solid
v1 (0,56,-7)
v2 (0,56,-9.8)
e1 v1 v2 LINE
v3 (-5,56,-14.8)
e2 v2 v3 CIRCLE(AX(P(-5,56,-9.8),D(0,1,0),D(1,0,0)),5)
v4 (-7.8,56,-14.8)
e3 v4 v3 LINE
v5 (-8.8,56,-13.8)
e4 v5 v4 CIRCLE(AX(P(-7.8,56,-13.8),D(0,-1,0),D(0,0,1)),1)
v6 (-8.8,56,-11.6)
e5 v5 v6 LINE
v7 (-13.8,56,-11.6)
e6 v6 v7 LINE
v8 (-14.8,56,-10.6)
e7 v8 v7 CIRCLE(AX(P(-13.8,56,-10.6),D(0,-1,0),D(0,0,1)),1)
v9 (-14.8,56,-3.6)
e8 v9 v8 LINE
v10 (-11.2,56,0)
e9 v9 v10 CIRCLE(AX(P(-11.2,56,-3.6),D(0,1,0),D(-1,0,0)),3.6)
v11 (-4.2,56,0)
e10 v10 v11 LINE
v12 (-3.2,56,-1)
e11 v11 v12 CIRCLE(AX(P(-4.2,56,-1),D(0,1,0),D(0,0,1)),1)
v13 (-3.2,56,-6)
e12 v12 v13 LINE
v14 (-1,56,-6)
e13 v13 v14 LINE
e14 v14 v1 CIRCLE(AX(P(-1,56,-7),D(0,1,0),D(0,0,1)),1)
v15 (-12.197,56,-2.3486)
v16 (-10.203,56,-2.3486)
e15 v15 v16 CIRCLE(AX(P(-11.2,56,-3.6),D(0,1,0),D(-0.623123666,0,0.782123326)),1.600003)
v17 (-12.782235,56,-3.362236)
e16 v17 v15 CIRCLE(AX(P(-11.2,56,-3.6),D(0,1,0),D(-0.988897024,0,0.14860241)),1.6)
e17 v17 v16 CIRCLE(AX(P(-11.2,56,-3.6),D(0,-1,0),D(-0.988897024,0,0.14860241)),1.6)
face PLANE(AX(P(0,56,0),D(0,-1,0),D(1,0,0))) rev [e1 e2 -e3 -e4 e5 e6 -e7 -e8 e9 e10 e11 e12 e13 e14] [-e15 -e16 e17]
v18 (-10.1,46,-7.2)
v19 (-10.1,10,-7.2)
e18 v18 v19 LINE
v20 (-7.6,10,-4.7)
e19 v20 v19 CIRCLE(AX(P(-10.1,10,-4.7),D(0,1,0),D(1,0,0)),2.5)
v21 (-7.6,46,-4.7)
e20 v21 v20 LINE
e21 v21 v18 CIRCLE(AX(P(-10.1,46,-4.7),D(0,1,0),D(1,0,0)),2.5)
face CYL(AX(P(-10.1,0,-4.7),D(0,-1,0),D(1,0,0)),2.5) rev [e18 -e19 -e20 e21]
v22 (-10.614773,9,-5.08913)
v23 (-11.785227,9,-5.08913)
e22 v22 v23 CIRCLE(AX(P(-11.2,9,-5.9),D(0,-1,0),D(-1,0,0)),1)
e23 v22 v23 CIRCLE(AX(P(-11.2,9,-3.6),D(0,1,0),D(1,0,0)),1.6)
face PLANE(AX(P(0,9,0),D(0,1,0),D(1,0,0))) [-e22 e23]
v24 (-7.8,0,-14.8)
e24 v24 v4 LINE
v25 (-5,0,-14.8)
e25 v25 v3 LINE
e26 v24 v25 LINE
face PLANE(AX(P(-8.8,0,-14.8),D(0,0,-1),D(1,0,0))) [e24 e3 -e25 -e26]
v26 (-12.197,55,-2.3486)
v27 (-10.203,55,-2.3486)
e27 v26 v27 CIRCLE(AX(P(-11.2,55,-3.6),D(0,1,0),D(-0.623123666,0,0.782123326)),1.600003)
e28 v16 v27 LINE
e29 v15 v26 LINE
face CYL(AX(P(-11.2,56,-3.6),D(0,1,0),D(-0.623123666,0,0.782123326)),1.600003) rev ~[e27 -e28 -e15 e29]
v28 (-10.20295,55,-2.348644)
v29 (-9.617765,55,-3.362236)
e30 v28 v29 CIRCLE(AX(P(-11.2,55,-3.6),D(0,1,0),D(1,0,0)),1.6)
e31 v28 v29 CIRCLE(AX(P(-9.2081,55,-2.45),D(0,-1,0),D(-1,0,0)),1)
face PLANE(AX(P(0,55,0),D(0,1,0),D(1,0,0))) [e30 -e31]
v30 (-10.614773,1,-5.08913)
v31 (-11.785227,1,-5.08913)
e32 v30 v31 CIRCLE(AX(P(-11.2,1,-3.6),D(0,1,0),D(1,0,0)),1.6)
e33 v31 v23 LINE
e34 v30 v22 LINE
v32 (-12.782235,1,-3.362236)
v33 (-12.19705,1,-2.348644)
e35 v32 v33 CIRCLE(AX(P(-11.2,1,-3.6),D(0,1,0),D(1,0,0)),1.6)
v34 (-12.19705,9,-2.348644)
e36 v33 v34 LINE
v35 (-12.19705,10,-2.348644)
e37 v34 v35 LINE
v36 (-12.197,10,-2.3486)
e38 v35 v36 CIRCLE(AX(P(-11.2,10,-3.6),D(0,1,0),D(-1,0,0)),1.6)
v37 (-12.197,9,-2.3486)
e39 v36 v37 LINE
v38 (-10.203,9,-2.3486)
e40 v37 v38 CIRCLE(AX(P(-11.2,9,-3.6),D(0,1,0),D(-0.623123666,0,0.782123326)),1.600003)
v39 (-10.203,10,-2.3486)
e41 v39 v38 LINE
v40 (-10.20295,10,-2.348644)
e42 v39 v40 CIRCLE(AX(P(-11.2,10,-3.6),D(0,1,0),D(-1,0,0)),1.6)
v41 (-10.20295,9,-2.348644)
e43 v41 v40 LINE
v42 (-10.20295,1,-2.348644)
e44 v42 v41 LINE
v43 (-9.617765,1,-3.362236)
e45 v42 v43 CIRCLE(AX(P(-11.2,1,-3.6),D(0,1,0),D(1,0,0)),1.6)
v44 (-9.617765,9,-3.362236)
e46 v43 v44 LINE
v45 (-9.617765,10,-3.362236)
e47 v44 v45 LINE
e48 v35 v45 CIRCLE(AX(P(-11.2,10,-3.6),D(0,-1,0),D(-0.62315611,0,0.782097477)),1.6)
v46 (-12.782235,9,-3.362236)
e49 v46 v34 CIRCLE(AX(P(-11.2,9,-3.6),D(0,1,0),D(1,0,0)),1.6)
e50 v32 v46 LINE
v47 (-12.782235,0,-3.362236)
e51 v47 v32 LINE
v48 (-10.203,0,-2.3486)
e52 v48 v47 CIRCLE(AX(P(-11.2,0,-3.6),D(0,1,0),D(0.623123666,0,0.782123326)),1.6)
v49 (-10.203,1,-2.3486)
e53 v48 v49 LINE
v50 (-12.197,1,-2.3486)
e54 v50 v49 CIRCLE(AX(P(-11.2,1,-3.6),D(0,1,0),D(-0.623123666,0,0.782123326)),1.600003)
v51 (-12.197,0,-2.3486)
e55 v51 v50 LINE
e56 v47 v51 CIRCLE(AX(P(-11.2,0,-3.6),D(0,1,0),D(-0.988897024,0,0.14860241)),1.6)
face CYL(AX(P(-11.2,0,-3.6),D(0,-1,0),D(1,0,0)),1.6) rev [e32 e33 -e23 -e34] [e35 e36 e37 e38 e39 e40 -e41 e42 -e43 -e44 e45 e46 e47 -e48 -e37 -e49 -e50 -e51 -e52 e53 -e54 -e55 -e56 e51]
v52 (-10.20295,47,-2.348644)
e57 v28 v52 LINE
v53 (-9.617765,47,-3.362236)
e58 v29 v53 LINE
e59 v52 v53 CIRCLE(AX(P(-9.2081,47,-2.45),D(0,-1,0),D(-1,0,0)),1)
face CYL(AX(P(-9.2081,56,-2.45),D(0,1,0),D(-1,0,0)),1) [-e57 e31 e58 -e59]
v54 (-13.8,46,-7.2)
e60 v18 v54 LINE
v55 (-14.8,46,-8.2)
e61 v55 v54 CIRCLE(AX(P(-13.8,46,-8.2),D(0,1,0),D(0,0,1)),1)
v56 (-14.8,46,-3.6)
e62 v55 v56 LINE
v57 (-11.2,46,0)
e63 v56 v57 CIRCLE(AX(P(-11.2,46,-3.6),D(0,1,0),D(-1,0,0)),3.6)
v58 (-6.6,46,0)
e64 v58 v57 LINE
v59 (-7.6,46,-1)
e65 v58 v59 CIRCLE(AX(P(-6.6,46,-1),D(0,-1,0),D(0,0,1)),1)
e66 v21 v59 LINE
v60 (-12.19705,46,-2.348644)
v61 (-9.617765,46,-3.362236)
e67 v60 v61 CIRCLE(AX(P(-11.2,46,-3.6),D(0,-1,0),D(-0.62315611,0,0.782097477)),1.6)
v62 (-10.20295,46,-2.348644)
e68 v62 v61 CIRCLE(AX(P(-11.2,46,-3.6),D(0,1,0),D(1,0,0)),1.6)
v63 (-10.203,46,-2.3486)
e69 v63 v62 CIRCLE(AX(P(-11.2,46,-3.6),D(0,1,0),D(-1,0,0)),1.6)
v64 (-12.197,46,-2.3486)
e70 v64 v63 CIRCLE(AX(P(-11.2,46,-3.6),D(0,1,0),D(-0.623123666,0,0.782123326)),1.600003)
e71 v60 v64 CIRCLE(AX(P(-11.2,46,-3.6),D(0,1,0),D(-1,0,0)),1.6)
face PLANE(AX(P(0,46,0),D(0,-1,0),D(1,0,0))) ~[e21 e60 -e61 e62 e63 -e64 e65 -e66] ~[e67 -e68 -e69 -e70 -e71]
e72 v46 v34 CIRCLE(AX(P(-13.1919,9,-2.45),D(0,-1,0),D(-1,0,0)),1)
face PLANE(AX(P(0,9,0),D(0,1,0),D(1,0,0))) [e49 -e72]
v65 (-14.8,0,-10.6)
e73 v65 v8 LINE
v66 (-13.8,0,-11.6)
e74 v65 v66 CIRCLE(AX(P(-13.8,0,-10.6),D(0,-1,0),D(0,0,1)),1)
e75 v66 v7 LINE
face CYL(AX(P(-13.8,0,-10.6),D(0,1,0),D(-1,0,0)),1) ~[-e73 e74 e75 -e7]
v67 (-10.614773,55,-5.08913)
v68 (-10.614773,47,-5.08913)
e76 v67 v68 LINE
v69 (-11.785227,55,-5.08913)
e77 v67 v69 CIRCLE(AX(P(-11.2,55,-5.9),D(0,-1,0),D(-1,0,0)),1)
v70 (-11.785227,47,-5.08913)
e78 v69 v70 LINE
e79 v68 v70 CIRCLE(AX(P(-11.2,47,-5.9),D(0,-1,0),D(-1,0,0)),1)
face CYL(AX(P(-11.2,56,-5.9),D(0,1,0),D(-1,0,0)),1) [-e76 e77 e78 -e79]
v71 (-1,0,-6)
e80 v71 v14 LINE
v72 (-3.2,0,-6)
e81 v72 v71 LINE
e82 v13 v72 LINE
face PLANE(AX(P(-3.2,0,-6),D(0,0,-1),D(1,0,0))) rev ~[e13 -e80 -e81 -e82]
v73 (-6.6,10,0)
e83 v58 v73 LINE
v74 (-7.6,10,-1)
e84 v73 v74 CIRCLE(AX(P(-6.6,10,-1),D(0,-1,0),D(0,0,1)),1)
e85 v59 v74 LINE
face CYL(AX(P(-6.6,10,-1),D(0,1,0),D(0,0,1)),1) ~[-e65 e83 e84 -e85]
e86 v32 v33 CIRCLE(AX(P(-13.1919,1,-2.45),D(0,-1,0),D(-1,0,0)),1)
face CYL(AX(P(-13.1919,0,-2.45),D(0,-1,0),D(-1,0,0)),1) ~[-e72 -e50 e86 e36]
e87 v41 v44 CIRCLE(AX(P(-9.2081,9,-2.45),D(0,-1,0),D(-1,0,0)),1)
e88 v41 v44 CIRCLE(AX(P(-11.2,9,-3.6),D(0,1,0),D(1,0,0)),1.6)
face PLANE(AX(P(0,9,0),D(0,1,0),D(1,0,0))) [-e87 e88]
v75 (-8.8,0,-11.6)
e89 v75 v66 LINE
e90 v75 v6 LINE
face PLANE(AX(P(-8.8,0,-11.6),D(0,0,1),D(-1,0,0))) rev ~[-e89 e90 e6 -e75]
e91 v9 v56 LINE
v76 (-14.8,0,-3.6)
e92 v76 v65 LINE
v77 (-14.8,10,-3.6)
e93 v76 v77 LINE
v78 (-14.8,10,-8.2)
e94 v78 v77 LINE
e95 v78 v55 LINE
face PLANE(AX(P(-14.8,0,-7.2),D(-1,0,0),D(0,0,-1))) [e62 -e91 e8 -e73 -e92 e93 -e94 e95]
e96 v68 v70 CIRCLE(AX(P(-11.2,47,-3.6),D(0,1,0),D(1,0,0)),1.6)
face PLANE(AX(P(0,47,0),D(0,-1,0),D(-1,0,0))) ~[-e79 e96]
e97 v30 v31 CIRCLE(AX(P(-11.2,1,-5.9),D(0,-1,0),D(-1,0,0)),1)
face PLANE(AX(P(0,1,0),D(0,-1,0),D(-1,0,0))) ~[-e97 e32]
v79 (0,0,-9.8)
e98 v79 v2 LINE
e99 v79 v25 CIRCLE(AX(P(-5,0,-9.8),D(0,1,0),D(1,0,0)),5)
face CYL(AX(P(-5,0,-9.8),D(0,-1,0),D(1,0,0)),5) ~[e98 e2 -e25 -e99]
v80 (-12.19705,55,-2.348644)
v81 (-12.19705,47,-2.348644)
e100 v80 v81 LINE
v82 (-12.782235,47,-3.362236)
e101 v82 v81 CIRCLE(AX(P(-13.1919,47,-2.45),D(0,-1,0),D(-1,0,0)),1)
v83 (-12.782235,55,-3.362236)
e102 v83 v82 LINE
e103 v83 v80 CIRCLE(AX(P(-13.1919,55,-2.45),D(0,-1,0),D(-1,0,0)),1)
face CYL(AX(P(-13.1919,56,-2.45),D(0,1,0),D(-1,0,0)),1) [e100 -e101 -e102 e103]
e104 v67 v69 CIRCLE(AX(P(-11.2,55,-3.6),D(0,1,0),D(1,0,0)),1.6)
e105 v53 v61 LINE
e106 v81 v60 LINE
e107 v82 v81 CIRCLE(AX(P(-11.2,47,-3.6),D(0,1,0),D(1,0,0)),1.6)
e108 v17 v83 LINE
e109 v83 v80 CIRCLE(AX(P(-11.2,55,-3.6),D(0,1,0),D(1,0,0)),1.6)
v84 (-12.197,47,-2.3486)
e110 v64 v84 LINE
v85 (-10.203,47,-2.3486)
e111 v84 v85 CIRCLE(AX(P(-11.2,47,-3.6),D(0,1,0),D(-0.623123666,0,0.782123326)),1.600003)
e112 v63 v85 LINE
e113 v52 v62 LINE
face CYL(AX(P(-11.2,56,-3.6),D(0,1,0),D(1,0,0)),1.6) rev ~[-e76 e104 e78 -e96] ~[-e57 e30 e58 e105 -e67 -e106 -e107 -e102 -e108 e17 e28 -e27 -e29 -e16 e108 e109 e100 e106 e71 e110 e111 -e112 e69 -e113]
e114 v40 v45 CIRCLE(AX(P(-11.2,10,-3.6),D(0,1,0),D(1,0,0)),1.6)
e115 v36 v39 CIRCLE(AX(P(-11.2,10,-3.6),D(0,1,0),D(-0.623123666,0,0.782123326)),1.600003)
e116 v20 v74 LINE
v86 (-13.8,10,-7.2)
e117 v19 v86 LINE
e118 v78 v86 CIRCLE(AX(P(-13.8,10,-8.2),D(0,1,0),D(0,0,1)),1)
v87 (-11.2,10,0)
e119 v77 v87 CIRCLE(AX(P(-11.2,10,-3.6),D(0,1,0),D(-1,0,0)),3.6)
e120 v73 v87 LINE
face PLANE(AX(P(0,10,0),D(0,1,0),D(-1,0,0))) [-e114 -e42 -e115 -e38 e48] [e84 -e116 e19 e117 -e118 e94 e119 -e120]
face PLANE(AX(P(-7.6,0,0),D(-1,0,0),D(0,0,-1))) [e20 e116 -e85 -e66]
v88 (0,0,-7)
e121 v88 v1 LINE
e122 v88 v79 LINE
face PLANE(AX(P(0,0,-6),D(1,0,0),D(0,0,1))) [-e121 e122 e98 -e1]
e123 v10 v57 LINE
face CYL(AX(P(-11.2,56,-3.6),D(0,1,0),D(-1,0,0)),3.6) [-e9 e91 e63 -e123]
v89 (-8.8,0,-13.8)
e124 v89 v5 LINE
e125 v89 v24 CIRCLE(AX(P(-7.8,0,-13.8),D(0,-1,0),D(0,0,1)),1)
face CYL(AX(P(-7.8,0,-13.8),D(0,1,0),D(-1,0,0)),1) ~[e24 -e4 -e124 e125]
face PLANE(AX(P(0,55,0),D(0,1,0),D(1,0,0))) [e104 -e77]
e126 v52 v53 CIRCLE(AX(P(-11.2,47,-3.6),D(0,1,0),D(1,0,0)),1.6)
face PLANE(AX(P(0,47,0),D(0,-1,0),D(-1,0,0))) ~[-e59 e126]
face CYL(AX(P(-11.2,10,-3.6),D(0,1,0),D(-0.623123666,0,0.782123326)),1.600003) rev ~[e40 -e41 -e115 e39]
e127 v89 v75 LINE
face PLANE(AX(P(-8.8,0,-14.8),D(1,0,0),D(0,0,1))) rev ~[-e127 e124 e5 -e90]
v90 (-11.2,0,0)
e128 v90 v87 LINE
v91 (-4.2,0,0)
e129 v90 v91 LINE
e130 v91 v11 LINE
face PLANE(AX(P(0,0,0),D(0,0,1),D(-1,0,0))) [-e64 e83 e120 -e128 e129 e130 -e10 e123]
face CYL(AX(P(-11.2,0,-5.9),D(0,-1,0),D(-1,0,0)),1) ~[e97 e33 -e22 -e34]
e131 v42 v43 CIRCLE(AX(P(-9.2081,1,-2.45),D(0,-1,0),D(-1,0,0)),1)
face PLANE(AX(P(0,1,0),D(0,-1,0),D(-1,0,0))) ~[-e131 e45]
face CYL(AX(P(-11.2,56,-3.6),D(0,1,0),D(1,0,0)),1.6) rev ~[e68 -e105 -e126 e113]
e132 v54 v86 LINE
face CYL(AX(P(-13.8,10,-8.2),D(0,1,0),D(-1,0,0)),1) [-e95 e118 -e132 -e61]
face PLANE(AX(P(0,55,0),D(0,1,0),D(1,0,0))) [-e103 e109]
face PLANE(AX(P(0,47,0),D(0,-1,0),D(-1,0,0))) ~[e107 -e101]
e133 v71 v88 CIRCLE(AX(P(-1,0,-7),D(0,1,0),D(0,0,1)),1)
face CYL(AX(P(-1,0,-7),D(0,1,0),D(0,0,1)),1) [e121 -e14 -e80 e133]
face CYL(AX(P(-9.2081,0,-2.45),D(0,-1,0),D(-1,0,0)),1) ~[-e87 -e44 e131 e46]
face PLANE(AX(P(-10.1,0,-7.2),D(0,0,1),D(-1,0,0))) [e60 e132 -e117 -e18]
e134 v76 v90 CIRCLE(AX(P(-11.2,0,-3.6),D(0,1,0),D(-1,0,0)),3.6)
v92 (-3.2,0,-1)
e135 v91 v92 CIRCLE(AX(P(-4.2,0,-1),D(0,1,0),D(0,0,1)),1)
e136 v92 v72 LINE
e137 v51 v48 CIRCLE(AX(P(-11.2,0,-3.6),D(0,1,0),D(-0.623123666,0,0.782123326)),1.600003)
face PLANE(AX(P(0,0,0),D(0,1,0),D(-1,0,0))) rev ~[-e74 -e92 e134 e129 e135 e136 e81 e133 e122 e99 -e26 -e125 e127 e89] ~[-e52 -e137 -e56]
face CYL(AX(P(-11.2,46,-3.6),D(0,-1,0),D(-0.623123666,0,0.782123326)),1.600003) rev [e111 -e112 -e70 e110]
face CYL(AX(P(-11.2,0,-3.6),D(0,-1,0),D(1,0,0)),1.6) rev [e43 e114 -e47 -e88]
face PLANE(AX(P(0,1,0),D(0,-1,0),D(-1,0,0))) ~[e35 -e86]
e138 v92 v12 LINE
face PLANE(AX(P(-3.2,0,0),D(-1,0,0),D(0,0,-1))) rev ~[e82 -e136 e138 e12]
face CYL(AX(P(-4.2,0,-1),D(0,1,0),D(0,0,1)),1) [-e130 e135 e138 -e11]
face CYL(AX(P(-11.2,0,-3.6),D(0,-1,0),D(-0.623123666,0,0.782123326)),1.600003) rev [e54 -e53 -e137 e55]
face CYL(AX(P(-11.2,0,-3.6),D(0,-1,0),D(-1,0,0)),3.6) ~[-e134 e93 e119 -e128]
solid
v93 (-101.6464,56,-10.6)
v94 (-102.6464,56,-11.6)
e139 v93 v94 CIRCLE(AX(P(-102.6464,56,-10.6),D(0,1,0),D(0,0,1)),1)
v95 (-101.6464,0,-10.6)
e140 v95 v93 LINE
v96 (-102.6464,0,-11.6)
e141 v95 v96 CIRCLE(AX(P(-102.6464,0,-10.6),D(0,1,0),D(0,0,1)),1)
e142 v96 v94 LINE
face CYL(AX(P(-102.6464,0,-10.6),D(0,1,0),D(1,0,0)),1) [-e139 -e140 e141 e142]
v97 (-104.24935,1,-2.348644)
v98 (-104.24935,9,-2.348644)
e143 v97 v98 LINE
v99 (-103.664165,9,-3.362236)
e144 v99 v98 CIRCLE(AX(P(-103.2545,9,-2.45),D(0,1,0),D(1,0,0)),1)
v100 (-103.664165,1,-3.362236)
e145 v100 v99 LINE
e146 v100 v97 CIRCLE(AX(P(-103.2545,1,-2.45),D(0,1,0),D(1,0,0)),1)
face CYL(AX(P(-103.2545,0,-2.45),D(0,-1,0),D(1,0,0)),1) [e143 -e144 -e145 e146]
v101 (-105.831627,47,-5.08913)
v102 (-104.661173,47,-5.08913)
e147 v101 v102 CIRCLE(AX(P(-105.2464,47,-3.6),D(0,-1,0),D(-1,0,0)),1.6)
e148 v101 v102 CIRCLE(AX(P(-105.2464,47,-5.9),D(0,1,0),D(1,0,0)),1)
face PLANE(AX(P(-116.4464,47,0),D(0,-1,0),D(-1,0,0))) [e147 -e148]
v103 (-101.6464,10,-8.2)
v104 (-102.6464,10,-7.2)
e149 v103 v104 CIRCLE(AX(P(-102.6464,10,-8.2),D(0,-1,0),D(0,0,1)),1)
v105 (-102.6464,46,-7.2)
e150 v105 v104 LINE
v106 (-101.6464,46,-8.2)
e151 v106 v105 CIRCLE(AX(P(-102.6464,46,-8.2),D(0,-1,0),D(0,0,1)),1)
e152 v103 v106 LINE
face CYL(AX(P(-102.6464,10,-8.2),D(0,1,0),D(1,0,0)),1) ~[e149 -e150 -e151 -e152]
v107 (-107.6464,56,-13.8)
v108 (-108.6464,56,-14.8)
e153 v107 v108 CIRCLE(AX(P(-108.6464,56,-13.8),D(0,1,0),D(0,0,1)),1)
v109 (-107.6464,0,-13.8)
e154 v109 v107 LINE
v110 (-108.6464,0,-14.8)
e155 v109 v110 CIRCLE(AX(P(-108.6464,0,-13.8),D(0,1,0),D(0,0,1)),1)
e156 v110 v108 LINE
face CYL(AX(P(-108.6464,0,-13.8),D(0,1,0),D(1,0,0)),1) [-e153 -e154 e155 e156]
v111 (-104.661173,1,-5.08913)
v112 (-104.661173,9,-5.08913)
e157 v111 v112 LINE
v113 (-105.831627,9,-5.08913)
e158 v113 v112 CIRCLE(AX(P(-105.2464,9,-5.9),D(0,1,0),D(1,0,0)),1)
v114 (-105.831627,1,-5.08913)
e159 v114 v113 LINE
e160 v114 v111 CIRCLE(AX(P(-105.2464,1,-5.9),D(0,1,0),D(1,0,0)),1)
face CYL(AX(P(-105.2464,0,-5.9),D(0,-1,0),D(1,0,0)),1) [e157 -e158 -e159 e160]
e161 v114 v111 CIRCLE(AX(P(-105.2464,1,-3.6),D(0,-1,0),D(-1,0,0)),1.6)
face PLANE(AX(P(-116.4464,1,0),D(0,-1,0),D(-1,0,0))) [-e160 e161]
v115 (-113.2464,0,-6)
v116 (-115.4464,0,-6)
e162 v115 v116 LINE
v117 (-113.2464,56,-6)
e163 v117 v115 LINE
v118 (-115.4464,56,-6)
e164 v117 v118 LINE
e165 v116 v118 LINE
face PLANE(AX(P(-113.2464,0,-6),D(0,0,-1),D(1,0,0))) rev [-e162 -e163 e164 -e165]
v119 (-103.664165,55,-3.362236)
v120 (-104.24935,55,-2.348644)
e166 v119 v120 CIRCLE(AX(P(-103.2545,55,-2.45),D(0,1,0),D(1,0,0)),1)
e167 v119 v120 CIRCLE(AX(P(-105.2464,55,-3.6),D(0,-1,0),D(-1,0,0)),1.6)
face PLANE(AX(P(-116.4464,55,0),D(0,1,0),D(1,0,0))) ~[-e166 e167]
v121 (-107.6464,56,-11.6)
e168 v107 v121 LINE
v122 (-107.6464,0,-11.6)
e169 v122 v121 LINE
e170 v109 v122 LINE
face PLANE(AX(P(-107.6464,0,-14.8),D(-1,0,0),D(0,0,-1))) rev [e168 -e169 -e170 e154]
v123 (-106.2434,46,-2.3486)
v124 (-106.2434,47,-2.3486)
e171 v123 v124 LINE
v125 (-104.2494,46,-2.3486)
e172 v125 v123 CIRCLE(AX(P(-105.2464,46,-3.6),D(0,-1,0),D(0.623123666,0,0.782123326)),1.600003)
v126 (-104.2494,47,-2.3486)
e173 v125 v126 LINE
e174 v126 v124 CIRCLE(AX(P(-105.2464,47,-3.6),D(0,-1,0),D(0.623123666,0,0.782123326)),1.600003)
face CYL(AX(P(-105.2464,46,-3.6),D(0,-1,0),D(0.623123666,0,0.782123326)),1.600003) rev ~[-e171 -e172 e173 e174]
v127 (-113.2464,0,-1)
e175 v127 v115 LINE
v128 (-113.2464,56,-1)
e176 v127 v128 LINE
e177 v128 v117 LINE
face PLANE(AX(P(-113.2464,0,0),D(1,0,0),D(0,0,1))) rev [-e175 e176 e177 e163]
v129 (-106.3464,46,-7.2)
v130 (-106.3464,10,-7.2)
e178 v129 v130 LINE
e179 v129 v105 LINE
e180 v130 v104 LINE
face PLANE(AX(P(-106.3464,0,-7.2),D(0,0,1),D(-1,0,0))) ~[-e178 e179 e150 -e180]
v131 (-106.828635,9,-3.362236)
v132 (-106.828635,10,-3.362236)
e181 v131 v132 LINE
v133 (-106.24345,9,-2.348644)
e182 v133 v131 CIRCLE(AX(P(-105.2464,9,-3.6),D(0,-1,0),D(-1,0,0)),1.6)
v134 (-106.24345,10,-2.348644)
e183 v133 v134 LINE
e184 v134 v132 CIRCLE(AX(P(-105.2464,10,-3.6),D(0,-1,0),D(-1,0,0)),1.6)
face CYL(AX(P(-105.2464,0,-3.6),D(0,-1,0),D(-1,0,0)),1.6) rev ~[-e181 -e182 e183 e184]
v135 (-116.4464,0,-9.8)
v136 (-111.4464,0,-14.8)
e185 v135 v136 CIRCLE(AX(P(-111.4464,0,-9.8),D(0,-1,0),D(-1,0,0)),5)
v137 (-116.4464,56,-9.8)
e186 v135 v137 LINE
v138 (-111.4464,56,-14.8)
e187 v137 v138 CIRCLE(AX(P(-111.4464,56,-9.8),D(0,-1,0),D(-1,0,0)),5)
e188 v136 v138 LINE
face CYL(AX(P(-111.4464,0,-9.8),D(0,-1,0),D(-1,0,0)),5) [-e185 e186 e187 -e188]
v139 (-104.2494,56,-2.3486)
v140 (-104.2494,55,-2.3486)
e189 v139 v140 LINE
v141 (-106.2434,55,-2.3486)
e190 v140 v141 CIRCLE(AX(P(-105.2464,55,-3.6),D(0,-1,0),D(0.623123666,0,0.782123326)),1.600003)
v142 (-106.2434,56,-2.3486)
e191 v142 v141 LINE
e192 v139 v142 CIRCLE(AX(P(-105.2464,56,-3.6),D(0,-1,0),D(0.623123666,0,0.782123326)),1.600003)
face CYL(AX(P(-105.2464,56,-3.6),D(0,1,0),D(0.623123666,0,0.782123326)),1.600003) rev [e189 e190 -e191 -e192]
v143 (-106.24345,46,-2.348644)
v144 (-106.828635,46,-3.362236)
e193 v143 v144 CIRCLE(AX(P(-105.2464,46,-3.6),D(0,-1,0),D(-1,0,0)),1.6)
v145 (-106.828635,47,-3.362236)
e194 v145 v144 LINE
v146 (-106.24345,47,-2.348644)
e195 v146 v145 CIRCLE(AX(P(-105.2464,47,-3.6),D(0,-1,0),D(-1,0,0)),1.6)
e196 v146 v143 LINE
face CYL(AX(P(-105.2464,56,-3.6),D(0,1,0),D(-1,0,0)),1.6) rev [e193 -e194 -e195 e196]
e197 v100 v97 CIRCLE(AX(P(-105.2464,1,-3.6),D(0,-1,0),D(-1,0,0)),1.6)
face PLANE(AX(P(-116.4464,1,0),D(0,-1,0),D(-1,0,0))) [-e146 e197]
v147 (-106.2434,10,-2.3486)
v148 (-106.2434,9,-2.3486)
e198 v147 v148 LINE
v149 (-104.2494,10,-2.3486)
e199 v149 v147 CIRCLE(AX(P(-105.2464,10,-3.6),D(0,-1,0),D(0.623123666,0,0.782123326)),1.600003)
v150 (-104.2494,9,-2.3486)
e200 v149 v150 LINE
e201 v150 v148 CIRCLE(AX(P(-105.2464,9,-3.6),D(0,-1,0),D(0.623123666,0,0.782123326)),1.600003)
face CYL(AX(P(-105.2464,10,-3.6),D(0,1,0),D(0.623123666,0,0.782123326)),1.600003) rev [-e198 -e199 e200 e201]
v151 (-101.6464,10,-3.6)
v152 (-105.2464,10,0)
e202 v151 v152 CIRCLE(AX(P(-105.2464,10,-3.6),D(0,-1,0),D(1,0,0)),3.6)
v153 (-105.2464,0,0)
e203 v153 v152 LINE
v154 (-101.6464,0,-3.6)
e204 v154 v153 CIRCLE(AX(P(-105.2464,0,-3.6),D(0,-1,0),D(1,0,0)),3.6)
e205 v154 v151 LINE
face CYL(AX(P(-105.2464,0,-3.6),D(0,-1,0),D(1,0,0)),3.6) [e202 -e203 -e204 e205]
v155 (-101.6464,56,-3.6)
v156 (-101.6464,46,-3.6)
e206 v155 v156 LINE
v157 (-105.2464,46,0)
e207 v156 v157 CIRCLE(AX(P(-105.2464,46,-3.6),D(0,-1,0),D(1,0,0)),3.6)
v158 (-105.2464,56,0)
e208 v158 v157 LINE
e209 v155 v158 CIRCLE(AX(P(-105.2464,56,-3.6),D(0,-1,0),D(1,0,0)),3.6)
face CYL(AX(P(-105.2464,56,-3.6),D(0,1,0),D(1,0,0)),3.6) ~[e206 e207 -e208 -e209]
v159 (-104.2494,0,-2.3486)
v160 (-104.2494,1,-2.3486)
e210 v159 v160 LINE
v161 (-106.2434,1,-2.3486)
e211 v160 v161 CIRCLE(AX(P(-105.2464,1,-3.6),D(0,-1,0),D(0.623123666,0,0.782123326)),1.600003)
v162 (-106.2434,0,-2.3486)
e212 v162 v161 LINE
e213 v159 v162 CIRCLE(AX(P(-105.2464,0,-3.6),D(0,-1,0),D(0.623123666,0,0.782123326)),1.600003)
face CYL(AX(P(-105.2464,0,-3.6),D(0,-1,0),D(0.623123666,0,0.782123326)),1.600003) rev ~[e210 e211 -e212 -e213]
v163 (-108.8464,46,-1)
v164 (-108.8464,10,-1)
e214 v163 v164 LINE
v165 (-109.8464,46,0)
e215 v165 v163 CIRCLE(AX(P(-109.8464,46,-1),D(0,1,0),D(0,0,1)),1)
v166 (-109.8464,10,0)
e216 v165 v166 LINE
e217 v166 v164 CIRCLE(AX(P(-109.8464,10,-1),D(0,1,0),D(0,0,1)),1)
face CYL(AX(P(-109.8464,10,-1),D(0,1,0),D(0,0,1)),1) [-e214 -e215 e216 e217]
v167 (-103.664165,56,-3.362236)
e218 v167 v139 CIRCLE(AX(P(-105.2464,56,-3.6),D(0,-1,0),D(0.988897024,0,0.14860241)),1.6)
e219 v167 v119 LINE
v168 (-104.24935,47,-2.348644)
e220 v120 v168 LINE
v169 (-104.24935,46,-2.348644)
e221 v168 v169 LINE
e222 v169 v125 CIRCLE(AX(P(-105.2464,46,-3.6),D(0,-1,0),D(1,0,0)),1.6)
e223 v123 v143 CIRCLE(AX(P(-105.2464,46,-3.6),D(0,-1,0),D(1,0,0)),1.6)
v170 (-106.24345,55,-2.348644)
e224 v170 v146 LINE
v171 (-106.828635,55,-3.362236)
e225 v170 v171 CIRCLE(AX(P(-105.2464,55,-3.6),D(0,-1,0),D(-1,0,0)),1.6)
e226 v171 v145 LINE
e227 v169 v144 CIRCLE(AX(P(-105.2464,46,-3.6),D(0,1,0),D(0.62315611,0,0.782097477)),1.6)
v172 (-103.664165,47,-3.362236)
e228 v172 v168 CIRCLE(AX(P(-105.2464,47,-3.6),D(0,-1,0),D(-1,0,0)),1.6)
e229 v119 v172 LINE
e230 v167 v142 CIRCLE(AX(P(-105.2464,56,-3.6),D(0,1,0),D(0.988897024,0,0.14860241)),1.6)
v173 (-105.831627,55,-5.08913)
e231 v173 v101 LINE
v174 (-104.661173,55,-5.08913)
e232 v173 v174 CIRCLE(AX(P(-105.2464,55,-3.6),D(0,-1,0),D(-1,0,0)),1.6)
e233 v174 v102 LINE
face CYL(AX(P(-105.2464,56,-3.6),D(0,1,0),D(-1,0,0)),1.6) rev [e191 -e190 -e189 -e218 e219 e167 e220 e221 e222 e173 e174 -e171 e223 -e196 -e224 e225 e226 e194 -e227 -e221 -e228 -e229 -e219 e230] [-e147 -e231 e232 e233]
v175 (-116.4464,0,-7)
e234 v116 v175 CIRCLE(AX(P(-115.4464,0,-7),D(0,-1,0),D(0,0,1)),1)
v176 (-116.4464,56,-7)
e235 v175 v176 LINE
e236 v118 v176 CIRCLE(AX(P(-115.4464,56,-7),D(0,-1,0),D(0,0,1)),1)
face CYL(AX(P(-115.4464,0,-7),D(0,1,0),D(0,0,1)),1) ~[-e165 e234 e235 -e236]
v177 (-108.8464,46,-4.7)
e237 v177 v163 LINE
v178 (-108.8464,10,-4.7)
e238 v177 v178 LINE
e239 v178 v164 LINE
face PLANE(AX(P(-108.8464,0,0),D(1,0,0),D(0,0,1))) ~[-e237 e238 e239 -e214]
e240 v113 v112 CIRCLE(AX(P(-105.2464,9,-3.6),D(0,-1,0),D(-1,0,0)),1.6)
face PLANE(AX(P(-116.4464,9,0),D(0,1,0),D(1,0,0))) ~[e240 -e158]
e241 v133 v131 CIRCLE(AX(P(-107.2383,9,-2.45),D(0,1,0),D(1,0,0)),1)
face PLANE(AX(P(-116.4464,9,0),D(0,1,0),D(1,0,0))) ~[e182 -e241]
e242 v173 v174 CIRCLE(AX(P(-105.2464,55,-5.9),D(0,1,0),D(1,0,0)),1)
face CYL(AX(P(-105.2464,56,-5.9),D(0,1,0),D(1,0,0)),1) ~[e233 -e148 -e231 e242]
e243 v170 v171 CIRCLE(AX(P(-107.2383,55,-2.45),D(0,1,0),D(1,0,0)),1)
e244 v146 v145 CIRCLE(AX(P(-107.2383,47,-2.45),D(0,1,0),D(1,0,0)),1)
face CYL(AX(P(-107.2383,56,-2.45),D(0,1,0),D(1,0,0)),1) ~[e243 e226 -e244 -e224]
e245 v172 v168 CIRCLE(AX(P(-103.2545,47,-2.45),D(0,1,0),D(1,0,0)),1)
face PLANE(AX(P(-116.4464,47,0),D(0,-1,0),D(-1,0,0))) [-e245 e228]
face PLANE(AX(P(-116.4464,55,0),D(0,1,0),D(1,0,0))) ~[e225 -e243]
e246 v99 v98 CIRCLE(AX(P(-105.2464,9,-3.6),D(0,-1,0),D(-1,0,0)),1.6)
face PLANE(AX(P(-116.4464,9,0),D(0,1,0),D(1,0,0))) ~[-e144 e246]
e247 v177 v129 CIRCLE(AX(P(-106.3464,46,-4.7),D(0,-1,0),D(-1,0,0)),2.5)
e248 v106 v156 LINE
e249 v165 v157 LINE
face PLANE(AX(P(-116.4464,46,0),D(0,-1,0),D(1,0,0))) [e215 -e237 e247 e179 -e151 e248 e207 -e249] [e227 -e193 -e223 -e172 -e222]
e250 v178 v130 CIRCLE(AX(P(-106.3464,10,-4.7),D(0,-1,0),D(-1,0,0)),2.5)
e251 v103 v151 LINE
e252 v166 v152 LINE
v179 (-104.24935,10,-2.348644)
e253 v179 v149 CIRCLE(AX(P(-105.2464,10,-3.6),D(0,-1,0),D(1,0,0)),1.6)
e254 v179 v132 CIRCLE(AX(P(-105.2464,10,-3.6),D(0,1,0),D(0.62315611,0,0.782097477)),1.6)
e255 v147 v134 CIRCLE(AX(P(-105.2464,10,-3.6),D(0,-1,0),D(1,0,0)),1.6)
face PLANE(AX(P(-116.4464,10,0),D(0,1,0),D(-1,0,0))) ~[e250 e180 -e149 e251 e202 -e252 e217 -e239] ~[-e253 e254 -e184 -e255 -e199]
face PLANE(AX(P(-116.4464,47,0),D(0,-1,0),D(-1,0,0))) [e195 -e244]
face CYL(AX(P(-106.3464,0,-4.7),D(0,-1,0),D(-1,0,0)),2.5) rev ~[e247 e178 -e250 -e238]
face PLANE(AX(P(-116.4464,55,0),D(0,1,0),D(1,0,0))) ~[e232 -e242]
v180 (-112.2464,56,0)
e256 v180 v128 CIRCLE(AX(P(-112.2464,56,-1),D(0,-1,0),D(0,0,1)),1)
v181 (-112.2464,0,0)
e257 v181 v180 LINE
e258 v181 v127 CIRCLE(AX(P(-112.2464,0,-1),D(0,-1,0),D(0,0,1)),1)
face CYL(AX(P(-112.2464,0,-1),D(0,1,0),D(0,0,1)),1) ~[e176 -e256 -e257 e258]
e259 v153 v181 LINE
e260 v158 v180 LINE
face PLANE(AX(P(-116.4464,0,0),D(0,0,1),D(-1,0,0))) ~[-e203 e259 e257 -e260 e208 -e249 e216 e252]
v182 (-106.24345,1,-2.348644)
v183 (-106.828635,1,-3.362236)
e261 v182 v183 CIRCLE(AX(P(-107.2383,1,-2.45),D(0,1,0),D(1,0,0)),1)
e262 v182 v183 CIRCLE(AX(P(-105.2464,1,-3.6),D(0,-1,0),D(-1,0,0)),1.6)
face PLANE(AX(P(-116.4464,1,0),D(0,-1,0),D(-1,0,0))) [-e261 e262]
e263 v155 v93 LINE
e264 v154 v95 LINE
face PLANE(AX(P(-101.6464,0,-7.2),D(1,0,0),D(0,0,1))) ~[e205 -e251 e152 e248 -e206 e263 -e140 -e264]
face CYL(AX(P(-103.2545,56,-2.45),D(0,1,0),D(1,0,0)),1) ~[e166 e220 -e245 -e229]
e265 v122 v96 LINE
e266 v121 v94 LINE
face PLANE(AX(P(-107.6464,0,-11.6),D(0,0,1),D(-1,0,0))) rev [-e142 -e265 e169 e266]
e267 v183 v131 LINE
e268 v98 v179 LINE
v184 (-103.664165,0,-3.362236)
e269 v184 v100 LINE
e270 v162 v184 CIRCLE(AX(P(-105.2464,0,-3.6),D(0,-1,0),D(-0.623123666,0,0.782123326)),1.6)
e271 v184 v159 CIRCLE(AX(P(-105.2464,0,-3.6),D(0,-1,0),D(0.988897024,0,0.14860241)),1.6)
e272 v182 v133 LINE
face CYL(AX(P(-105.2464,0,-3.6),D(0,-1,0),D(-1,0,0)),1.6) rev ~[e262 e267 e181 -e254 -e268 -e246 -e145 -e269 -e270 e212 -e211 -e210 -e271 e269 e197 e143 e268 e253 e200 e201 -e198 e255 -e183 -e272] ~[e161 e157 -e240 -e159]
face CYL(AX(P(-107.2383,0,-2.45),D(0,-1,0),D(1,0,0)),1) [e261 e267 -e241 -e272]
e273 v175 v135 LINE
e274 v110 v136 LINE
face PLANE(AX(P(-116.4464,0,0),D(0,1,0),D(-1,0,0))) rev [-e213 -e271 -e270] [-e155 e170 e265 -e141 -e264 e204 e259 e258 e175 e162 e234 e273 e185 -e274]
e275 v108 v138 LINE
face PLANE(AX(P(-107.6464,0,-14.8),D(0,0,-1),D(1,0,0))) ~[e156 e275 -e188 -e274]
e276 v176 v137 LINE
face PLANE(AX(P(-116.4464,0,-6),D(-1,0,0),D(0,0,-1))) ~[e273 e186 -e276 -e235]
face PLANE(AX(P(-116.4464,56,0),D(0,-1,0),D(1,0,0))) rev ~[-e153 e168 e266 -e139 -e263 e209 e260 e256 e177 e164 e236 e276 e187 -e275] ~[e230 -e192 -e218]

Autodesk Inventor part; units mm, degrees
sketch "Sketch1" plane through (0, 0, 0) normal (0, 1, 0) x (-1, 0, 0)
  line L0 (0, 0) -> (7.6, 0)
  line L1 (7.6, 0) -> (7.6, -4.7)
  line L2 (7.6, -7.2) -> (0, -7.2)
  line L3 (0, -7.2) -> (0, 0)
  line L4 (10.1, -7.2) -> (14.8, -7.2)
  line L5 (14.8, -7.2) -> (14.8, -14.8)
  line L6 (14.8, -14.8) -> (5, -14.8)
  line L7 (0, -9.8) -> (0, -7.2)
  arc A0 (0, -9.8) -> (5, -14.8) centre (5, -9.8) ccw
  circle A1 centre (11.2, -3.6) radius 3.6
  line L8 (7.6, 0) -> (11.2, 0)
  line L9 (14.8, -7.2) -> (14.8, -3.6)
  arc A2 (7.6, -4.7) -> (10.1, -7.2) centre (10.1, -4.7) ccw
  circle A3 centre (11.2, -3.6) radius 1.6
  line L10 (0, 0) -> (3.2, 0)
  line L11 (3.2, 0) -> (3.2, -6)
  line L12 (3.2, -6) -> (0, -6)
  line L13 (0, -6) -> (0, 0)
  line L14 (14.8, -14.8) -> (8.8, -14.8)
  line L15 (8.8, -14.8) -> (8.8, -11.6)
  line L16 (8.8, -11.6) -> (14.8, -11.6)
  line L17 (14.8, -11.6) -> (14.8, -14.8)
  circle A4 centre (11.2, -3.6) radius 1.3
  line L18 (11.2, -3.6) -> (11.2, -5.9)
  circle A5 centre (11.2, -5.9) radius 1
  circle A6 centre (13.1919, -2.45) radius 1
  circle A7 centre (9.2081, -2.45) radius 1
  point P0 (9.9, -14.8)
  point P1 (7.6, -7.4)
  point P2 (8.8, -14.8)
  point P3 (10.6148, -5.0891)
  point P4 (11.7852, -5.0891)
  point P5 (10.203, -2.3486)
  point P6 (9.6178, -3.3623)
  point P7 (12.7822, -3.3623)
  point P8 (12.197, -2.3486)
  dimension "d0" = 5
  dimension "d1" = 7.6
  dimension "d2" = 7.6
  dimension "d3" = 14.8
  dimension "d4" = 14.8
  dimension "d13" = 2.5
  dimension "d14" = 3.2
  dimension "d15" = 2
  dimension "d16" = 3.2
  dimension "d17" = 6
  dimension "d18" = 6
  dimension "d19" = 3.2
  dimension "d24" = 2.6
  dimension "d25" = 2
  dimension "d28" = 360
extrude "Extrusion1" add sketch "Sketch1" along normal blind 28 contours L0 L11 L12 L3 | L0 L1 A2 L4 L5 L16 L15 L6 A0 L7 L3 L12 L11 | L15 L16 L5 L6
extrude "Extrusion2" add sketch "Sketch1" along normal blind 10 contours L8 A1 L1 | A1 L4 A2 L1 | A1 | A1 L9 L4 | A6 A3 | A3 A6 | A5 A3 | A3 L18 A5 | A3 A5 L18 | A7 A3 | A3 A7
extrude "Extrusion3" cut sketch "Sketch1" along normal blind 50 contours L0 L11 L12 L3 | L15 L16 L5 L6
fillet "Fillet1" radius 1 6 edges at (-3.2, 14, 0) (-7.6, 19, 0) (0, 14, -6) (-8.8, 14, -14.8) (-14.8, 14, -11.6) (-14.8, 19, -7.2)
ref_plane "Work Plane1" through (-3.4929, 28, -0.2929) normal (0, 1, 0) x (1, 0, 0)
sketch "Sketch3" plane through (0, 10, 0) normal (0, 1, 0) x (1, 0, 0)
  arc A0 (-12.197, 2.3486) -> (-10.203, 2.3486) centre (-11.2, 3.6) ccw projected
  circle A1 centre (-11.2, 3.6) radius 1.6
  point P0 (0, 0)
  point P1 (-10.203, 2.3486)
  point P2 (-12.197, 2.3486)
  dimension "d33" = 3.2
extrude "Extrusion5" cut sketch "Sketch3" against normal blind 1
ref_plane "Work Plane3" through (0, 5, 0) normal (0, 1, 0) x (1, 0, 0)
mirror "Mirror3" about plane through (0, 5, 0) normal (0, 1, 0) of "Extrusion5"
mirror "Mirror1" about plane through (-3.4929, 28, -0.2929) normal (0, 1, 0)
ref_plane "Work Plane2" through (-58.2232, 0, -10.6) normal (-1, 0, 0) x (0, 0, 1)
mirror "Mirror2" about plane through (-58.2232, 0, -10.6) normal (-1, 0, 0)
properties part number "Esquineros Delanteros"
